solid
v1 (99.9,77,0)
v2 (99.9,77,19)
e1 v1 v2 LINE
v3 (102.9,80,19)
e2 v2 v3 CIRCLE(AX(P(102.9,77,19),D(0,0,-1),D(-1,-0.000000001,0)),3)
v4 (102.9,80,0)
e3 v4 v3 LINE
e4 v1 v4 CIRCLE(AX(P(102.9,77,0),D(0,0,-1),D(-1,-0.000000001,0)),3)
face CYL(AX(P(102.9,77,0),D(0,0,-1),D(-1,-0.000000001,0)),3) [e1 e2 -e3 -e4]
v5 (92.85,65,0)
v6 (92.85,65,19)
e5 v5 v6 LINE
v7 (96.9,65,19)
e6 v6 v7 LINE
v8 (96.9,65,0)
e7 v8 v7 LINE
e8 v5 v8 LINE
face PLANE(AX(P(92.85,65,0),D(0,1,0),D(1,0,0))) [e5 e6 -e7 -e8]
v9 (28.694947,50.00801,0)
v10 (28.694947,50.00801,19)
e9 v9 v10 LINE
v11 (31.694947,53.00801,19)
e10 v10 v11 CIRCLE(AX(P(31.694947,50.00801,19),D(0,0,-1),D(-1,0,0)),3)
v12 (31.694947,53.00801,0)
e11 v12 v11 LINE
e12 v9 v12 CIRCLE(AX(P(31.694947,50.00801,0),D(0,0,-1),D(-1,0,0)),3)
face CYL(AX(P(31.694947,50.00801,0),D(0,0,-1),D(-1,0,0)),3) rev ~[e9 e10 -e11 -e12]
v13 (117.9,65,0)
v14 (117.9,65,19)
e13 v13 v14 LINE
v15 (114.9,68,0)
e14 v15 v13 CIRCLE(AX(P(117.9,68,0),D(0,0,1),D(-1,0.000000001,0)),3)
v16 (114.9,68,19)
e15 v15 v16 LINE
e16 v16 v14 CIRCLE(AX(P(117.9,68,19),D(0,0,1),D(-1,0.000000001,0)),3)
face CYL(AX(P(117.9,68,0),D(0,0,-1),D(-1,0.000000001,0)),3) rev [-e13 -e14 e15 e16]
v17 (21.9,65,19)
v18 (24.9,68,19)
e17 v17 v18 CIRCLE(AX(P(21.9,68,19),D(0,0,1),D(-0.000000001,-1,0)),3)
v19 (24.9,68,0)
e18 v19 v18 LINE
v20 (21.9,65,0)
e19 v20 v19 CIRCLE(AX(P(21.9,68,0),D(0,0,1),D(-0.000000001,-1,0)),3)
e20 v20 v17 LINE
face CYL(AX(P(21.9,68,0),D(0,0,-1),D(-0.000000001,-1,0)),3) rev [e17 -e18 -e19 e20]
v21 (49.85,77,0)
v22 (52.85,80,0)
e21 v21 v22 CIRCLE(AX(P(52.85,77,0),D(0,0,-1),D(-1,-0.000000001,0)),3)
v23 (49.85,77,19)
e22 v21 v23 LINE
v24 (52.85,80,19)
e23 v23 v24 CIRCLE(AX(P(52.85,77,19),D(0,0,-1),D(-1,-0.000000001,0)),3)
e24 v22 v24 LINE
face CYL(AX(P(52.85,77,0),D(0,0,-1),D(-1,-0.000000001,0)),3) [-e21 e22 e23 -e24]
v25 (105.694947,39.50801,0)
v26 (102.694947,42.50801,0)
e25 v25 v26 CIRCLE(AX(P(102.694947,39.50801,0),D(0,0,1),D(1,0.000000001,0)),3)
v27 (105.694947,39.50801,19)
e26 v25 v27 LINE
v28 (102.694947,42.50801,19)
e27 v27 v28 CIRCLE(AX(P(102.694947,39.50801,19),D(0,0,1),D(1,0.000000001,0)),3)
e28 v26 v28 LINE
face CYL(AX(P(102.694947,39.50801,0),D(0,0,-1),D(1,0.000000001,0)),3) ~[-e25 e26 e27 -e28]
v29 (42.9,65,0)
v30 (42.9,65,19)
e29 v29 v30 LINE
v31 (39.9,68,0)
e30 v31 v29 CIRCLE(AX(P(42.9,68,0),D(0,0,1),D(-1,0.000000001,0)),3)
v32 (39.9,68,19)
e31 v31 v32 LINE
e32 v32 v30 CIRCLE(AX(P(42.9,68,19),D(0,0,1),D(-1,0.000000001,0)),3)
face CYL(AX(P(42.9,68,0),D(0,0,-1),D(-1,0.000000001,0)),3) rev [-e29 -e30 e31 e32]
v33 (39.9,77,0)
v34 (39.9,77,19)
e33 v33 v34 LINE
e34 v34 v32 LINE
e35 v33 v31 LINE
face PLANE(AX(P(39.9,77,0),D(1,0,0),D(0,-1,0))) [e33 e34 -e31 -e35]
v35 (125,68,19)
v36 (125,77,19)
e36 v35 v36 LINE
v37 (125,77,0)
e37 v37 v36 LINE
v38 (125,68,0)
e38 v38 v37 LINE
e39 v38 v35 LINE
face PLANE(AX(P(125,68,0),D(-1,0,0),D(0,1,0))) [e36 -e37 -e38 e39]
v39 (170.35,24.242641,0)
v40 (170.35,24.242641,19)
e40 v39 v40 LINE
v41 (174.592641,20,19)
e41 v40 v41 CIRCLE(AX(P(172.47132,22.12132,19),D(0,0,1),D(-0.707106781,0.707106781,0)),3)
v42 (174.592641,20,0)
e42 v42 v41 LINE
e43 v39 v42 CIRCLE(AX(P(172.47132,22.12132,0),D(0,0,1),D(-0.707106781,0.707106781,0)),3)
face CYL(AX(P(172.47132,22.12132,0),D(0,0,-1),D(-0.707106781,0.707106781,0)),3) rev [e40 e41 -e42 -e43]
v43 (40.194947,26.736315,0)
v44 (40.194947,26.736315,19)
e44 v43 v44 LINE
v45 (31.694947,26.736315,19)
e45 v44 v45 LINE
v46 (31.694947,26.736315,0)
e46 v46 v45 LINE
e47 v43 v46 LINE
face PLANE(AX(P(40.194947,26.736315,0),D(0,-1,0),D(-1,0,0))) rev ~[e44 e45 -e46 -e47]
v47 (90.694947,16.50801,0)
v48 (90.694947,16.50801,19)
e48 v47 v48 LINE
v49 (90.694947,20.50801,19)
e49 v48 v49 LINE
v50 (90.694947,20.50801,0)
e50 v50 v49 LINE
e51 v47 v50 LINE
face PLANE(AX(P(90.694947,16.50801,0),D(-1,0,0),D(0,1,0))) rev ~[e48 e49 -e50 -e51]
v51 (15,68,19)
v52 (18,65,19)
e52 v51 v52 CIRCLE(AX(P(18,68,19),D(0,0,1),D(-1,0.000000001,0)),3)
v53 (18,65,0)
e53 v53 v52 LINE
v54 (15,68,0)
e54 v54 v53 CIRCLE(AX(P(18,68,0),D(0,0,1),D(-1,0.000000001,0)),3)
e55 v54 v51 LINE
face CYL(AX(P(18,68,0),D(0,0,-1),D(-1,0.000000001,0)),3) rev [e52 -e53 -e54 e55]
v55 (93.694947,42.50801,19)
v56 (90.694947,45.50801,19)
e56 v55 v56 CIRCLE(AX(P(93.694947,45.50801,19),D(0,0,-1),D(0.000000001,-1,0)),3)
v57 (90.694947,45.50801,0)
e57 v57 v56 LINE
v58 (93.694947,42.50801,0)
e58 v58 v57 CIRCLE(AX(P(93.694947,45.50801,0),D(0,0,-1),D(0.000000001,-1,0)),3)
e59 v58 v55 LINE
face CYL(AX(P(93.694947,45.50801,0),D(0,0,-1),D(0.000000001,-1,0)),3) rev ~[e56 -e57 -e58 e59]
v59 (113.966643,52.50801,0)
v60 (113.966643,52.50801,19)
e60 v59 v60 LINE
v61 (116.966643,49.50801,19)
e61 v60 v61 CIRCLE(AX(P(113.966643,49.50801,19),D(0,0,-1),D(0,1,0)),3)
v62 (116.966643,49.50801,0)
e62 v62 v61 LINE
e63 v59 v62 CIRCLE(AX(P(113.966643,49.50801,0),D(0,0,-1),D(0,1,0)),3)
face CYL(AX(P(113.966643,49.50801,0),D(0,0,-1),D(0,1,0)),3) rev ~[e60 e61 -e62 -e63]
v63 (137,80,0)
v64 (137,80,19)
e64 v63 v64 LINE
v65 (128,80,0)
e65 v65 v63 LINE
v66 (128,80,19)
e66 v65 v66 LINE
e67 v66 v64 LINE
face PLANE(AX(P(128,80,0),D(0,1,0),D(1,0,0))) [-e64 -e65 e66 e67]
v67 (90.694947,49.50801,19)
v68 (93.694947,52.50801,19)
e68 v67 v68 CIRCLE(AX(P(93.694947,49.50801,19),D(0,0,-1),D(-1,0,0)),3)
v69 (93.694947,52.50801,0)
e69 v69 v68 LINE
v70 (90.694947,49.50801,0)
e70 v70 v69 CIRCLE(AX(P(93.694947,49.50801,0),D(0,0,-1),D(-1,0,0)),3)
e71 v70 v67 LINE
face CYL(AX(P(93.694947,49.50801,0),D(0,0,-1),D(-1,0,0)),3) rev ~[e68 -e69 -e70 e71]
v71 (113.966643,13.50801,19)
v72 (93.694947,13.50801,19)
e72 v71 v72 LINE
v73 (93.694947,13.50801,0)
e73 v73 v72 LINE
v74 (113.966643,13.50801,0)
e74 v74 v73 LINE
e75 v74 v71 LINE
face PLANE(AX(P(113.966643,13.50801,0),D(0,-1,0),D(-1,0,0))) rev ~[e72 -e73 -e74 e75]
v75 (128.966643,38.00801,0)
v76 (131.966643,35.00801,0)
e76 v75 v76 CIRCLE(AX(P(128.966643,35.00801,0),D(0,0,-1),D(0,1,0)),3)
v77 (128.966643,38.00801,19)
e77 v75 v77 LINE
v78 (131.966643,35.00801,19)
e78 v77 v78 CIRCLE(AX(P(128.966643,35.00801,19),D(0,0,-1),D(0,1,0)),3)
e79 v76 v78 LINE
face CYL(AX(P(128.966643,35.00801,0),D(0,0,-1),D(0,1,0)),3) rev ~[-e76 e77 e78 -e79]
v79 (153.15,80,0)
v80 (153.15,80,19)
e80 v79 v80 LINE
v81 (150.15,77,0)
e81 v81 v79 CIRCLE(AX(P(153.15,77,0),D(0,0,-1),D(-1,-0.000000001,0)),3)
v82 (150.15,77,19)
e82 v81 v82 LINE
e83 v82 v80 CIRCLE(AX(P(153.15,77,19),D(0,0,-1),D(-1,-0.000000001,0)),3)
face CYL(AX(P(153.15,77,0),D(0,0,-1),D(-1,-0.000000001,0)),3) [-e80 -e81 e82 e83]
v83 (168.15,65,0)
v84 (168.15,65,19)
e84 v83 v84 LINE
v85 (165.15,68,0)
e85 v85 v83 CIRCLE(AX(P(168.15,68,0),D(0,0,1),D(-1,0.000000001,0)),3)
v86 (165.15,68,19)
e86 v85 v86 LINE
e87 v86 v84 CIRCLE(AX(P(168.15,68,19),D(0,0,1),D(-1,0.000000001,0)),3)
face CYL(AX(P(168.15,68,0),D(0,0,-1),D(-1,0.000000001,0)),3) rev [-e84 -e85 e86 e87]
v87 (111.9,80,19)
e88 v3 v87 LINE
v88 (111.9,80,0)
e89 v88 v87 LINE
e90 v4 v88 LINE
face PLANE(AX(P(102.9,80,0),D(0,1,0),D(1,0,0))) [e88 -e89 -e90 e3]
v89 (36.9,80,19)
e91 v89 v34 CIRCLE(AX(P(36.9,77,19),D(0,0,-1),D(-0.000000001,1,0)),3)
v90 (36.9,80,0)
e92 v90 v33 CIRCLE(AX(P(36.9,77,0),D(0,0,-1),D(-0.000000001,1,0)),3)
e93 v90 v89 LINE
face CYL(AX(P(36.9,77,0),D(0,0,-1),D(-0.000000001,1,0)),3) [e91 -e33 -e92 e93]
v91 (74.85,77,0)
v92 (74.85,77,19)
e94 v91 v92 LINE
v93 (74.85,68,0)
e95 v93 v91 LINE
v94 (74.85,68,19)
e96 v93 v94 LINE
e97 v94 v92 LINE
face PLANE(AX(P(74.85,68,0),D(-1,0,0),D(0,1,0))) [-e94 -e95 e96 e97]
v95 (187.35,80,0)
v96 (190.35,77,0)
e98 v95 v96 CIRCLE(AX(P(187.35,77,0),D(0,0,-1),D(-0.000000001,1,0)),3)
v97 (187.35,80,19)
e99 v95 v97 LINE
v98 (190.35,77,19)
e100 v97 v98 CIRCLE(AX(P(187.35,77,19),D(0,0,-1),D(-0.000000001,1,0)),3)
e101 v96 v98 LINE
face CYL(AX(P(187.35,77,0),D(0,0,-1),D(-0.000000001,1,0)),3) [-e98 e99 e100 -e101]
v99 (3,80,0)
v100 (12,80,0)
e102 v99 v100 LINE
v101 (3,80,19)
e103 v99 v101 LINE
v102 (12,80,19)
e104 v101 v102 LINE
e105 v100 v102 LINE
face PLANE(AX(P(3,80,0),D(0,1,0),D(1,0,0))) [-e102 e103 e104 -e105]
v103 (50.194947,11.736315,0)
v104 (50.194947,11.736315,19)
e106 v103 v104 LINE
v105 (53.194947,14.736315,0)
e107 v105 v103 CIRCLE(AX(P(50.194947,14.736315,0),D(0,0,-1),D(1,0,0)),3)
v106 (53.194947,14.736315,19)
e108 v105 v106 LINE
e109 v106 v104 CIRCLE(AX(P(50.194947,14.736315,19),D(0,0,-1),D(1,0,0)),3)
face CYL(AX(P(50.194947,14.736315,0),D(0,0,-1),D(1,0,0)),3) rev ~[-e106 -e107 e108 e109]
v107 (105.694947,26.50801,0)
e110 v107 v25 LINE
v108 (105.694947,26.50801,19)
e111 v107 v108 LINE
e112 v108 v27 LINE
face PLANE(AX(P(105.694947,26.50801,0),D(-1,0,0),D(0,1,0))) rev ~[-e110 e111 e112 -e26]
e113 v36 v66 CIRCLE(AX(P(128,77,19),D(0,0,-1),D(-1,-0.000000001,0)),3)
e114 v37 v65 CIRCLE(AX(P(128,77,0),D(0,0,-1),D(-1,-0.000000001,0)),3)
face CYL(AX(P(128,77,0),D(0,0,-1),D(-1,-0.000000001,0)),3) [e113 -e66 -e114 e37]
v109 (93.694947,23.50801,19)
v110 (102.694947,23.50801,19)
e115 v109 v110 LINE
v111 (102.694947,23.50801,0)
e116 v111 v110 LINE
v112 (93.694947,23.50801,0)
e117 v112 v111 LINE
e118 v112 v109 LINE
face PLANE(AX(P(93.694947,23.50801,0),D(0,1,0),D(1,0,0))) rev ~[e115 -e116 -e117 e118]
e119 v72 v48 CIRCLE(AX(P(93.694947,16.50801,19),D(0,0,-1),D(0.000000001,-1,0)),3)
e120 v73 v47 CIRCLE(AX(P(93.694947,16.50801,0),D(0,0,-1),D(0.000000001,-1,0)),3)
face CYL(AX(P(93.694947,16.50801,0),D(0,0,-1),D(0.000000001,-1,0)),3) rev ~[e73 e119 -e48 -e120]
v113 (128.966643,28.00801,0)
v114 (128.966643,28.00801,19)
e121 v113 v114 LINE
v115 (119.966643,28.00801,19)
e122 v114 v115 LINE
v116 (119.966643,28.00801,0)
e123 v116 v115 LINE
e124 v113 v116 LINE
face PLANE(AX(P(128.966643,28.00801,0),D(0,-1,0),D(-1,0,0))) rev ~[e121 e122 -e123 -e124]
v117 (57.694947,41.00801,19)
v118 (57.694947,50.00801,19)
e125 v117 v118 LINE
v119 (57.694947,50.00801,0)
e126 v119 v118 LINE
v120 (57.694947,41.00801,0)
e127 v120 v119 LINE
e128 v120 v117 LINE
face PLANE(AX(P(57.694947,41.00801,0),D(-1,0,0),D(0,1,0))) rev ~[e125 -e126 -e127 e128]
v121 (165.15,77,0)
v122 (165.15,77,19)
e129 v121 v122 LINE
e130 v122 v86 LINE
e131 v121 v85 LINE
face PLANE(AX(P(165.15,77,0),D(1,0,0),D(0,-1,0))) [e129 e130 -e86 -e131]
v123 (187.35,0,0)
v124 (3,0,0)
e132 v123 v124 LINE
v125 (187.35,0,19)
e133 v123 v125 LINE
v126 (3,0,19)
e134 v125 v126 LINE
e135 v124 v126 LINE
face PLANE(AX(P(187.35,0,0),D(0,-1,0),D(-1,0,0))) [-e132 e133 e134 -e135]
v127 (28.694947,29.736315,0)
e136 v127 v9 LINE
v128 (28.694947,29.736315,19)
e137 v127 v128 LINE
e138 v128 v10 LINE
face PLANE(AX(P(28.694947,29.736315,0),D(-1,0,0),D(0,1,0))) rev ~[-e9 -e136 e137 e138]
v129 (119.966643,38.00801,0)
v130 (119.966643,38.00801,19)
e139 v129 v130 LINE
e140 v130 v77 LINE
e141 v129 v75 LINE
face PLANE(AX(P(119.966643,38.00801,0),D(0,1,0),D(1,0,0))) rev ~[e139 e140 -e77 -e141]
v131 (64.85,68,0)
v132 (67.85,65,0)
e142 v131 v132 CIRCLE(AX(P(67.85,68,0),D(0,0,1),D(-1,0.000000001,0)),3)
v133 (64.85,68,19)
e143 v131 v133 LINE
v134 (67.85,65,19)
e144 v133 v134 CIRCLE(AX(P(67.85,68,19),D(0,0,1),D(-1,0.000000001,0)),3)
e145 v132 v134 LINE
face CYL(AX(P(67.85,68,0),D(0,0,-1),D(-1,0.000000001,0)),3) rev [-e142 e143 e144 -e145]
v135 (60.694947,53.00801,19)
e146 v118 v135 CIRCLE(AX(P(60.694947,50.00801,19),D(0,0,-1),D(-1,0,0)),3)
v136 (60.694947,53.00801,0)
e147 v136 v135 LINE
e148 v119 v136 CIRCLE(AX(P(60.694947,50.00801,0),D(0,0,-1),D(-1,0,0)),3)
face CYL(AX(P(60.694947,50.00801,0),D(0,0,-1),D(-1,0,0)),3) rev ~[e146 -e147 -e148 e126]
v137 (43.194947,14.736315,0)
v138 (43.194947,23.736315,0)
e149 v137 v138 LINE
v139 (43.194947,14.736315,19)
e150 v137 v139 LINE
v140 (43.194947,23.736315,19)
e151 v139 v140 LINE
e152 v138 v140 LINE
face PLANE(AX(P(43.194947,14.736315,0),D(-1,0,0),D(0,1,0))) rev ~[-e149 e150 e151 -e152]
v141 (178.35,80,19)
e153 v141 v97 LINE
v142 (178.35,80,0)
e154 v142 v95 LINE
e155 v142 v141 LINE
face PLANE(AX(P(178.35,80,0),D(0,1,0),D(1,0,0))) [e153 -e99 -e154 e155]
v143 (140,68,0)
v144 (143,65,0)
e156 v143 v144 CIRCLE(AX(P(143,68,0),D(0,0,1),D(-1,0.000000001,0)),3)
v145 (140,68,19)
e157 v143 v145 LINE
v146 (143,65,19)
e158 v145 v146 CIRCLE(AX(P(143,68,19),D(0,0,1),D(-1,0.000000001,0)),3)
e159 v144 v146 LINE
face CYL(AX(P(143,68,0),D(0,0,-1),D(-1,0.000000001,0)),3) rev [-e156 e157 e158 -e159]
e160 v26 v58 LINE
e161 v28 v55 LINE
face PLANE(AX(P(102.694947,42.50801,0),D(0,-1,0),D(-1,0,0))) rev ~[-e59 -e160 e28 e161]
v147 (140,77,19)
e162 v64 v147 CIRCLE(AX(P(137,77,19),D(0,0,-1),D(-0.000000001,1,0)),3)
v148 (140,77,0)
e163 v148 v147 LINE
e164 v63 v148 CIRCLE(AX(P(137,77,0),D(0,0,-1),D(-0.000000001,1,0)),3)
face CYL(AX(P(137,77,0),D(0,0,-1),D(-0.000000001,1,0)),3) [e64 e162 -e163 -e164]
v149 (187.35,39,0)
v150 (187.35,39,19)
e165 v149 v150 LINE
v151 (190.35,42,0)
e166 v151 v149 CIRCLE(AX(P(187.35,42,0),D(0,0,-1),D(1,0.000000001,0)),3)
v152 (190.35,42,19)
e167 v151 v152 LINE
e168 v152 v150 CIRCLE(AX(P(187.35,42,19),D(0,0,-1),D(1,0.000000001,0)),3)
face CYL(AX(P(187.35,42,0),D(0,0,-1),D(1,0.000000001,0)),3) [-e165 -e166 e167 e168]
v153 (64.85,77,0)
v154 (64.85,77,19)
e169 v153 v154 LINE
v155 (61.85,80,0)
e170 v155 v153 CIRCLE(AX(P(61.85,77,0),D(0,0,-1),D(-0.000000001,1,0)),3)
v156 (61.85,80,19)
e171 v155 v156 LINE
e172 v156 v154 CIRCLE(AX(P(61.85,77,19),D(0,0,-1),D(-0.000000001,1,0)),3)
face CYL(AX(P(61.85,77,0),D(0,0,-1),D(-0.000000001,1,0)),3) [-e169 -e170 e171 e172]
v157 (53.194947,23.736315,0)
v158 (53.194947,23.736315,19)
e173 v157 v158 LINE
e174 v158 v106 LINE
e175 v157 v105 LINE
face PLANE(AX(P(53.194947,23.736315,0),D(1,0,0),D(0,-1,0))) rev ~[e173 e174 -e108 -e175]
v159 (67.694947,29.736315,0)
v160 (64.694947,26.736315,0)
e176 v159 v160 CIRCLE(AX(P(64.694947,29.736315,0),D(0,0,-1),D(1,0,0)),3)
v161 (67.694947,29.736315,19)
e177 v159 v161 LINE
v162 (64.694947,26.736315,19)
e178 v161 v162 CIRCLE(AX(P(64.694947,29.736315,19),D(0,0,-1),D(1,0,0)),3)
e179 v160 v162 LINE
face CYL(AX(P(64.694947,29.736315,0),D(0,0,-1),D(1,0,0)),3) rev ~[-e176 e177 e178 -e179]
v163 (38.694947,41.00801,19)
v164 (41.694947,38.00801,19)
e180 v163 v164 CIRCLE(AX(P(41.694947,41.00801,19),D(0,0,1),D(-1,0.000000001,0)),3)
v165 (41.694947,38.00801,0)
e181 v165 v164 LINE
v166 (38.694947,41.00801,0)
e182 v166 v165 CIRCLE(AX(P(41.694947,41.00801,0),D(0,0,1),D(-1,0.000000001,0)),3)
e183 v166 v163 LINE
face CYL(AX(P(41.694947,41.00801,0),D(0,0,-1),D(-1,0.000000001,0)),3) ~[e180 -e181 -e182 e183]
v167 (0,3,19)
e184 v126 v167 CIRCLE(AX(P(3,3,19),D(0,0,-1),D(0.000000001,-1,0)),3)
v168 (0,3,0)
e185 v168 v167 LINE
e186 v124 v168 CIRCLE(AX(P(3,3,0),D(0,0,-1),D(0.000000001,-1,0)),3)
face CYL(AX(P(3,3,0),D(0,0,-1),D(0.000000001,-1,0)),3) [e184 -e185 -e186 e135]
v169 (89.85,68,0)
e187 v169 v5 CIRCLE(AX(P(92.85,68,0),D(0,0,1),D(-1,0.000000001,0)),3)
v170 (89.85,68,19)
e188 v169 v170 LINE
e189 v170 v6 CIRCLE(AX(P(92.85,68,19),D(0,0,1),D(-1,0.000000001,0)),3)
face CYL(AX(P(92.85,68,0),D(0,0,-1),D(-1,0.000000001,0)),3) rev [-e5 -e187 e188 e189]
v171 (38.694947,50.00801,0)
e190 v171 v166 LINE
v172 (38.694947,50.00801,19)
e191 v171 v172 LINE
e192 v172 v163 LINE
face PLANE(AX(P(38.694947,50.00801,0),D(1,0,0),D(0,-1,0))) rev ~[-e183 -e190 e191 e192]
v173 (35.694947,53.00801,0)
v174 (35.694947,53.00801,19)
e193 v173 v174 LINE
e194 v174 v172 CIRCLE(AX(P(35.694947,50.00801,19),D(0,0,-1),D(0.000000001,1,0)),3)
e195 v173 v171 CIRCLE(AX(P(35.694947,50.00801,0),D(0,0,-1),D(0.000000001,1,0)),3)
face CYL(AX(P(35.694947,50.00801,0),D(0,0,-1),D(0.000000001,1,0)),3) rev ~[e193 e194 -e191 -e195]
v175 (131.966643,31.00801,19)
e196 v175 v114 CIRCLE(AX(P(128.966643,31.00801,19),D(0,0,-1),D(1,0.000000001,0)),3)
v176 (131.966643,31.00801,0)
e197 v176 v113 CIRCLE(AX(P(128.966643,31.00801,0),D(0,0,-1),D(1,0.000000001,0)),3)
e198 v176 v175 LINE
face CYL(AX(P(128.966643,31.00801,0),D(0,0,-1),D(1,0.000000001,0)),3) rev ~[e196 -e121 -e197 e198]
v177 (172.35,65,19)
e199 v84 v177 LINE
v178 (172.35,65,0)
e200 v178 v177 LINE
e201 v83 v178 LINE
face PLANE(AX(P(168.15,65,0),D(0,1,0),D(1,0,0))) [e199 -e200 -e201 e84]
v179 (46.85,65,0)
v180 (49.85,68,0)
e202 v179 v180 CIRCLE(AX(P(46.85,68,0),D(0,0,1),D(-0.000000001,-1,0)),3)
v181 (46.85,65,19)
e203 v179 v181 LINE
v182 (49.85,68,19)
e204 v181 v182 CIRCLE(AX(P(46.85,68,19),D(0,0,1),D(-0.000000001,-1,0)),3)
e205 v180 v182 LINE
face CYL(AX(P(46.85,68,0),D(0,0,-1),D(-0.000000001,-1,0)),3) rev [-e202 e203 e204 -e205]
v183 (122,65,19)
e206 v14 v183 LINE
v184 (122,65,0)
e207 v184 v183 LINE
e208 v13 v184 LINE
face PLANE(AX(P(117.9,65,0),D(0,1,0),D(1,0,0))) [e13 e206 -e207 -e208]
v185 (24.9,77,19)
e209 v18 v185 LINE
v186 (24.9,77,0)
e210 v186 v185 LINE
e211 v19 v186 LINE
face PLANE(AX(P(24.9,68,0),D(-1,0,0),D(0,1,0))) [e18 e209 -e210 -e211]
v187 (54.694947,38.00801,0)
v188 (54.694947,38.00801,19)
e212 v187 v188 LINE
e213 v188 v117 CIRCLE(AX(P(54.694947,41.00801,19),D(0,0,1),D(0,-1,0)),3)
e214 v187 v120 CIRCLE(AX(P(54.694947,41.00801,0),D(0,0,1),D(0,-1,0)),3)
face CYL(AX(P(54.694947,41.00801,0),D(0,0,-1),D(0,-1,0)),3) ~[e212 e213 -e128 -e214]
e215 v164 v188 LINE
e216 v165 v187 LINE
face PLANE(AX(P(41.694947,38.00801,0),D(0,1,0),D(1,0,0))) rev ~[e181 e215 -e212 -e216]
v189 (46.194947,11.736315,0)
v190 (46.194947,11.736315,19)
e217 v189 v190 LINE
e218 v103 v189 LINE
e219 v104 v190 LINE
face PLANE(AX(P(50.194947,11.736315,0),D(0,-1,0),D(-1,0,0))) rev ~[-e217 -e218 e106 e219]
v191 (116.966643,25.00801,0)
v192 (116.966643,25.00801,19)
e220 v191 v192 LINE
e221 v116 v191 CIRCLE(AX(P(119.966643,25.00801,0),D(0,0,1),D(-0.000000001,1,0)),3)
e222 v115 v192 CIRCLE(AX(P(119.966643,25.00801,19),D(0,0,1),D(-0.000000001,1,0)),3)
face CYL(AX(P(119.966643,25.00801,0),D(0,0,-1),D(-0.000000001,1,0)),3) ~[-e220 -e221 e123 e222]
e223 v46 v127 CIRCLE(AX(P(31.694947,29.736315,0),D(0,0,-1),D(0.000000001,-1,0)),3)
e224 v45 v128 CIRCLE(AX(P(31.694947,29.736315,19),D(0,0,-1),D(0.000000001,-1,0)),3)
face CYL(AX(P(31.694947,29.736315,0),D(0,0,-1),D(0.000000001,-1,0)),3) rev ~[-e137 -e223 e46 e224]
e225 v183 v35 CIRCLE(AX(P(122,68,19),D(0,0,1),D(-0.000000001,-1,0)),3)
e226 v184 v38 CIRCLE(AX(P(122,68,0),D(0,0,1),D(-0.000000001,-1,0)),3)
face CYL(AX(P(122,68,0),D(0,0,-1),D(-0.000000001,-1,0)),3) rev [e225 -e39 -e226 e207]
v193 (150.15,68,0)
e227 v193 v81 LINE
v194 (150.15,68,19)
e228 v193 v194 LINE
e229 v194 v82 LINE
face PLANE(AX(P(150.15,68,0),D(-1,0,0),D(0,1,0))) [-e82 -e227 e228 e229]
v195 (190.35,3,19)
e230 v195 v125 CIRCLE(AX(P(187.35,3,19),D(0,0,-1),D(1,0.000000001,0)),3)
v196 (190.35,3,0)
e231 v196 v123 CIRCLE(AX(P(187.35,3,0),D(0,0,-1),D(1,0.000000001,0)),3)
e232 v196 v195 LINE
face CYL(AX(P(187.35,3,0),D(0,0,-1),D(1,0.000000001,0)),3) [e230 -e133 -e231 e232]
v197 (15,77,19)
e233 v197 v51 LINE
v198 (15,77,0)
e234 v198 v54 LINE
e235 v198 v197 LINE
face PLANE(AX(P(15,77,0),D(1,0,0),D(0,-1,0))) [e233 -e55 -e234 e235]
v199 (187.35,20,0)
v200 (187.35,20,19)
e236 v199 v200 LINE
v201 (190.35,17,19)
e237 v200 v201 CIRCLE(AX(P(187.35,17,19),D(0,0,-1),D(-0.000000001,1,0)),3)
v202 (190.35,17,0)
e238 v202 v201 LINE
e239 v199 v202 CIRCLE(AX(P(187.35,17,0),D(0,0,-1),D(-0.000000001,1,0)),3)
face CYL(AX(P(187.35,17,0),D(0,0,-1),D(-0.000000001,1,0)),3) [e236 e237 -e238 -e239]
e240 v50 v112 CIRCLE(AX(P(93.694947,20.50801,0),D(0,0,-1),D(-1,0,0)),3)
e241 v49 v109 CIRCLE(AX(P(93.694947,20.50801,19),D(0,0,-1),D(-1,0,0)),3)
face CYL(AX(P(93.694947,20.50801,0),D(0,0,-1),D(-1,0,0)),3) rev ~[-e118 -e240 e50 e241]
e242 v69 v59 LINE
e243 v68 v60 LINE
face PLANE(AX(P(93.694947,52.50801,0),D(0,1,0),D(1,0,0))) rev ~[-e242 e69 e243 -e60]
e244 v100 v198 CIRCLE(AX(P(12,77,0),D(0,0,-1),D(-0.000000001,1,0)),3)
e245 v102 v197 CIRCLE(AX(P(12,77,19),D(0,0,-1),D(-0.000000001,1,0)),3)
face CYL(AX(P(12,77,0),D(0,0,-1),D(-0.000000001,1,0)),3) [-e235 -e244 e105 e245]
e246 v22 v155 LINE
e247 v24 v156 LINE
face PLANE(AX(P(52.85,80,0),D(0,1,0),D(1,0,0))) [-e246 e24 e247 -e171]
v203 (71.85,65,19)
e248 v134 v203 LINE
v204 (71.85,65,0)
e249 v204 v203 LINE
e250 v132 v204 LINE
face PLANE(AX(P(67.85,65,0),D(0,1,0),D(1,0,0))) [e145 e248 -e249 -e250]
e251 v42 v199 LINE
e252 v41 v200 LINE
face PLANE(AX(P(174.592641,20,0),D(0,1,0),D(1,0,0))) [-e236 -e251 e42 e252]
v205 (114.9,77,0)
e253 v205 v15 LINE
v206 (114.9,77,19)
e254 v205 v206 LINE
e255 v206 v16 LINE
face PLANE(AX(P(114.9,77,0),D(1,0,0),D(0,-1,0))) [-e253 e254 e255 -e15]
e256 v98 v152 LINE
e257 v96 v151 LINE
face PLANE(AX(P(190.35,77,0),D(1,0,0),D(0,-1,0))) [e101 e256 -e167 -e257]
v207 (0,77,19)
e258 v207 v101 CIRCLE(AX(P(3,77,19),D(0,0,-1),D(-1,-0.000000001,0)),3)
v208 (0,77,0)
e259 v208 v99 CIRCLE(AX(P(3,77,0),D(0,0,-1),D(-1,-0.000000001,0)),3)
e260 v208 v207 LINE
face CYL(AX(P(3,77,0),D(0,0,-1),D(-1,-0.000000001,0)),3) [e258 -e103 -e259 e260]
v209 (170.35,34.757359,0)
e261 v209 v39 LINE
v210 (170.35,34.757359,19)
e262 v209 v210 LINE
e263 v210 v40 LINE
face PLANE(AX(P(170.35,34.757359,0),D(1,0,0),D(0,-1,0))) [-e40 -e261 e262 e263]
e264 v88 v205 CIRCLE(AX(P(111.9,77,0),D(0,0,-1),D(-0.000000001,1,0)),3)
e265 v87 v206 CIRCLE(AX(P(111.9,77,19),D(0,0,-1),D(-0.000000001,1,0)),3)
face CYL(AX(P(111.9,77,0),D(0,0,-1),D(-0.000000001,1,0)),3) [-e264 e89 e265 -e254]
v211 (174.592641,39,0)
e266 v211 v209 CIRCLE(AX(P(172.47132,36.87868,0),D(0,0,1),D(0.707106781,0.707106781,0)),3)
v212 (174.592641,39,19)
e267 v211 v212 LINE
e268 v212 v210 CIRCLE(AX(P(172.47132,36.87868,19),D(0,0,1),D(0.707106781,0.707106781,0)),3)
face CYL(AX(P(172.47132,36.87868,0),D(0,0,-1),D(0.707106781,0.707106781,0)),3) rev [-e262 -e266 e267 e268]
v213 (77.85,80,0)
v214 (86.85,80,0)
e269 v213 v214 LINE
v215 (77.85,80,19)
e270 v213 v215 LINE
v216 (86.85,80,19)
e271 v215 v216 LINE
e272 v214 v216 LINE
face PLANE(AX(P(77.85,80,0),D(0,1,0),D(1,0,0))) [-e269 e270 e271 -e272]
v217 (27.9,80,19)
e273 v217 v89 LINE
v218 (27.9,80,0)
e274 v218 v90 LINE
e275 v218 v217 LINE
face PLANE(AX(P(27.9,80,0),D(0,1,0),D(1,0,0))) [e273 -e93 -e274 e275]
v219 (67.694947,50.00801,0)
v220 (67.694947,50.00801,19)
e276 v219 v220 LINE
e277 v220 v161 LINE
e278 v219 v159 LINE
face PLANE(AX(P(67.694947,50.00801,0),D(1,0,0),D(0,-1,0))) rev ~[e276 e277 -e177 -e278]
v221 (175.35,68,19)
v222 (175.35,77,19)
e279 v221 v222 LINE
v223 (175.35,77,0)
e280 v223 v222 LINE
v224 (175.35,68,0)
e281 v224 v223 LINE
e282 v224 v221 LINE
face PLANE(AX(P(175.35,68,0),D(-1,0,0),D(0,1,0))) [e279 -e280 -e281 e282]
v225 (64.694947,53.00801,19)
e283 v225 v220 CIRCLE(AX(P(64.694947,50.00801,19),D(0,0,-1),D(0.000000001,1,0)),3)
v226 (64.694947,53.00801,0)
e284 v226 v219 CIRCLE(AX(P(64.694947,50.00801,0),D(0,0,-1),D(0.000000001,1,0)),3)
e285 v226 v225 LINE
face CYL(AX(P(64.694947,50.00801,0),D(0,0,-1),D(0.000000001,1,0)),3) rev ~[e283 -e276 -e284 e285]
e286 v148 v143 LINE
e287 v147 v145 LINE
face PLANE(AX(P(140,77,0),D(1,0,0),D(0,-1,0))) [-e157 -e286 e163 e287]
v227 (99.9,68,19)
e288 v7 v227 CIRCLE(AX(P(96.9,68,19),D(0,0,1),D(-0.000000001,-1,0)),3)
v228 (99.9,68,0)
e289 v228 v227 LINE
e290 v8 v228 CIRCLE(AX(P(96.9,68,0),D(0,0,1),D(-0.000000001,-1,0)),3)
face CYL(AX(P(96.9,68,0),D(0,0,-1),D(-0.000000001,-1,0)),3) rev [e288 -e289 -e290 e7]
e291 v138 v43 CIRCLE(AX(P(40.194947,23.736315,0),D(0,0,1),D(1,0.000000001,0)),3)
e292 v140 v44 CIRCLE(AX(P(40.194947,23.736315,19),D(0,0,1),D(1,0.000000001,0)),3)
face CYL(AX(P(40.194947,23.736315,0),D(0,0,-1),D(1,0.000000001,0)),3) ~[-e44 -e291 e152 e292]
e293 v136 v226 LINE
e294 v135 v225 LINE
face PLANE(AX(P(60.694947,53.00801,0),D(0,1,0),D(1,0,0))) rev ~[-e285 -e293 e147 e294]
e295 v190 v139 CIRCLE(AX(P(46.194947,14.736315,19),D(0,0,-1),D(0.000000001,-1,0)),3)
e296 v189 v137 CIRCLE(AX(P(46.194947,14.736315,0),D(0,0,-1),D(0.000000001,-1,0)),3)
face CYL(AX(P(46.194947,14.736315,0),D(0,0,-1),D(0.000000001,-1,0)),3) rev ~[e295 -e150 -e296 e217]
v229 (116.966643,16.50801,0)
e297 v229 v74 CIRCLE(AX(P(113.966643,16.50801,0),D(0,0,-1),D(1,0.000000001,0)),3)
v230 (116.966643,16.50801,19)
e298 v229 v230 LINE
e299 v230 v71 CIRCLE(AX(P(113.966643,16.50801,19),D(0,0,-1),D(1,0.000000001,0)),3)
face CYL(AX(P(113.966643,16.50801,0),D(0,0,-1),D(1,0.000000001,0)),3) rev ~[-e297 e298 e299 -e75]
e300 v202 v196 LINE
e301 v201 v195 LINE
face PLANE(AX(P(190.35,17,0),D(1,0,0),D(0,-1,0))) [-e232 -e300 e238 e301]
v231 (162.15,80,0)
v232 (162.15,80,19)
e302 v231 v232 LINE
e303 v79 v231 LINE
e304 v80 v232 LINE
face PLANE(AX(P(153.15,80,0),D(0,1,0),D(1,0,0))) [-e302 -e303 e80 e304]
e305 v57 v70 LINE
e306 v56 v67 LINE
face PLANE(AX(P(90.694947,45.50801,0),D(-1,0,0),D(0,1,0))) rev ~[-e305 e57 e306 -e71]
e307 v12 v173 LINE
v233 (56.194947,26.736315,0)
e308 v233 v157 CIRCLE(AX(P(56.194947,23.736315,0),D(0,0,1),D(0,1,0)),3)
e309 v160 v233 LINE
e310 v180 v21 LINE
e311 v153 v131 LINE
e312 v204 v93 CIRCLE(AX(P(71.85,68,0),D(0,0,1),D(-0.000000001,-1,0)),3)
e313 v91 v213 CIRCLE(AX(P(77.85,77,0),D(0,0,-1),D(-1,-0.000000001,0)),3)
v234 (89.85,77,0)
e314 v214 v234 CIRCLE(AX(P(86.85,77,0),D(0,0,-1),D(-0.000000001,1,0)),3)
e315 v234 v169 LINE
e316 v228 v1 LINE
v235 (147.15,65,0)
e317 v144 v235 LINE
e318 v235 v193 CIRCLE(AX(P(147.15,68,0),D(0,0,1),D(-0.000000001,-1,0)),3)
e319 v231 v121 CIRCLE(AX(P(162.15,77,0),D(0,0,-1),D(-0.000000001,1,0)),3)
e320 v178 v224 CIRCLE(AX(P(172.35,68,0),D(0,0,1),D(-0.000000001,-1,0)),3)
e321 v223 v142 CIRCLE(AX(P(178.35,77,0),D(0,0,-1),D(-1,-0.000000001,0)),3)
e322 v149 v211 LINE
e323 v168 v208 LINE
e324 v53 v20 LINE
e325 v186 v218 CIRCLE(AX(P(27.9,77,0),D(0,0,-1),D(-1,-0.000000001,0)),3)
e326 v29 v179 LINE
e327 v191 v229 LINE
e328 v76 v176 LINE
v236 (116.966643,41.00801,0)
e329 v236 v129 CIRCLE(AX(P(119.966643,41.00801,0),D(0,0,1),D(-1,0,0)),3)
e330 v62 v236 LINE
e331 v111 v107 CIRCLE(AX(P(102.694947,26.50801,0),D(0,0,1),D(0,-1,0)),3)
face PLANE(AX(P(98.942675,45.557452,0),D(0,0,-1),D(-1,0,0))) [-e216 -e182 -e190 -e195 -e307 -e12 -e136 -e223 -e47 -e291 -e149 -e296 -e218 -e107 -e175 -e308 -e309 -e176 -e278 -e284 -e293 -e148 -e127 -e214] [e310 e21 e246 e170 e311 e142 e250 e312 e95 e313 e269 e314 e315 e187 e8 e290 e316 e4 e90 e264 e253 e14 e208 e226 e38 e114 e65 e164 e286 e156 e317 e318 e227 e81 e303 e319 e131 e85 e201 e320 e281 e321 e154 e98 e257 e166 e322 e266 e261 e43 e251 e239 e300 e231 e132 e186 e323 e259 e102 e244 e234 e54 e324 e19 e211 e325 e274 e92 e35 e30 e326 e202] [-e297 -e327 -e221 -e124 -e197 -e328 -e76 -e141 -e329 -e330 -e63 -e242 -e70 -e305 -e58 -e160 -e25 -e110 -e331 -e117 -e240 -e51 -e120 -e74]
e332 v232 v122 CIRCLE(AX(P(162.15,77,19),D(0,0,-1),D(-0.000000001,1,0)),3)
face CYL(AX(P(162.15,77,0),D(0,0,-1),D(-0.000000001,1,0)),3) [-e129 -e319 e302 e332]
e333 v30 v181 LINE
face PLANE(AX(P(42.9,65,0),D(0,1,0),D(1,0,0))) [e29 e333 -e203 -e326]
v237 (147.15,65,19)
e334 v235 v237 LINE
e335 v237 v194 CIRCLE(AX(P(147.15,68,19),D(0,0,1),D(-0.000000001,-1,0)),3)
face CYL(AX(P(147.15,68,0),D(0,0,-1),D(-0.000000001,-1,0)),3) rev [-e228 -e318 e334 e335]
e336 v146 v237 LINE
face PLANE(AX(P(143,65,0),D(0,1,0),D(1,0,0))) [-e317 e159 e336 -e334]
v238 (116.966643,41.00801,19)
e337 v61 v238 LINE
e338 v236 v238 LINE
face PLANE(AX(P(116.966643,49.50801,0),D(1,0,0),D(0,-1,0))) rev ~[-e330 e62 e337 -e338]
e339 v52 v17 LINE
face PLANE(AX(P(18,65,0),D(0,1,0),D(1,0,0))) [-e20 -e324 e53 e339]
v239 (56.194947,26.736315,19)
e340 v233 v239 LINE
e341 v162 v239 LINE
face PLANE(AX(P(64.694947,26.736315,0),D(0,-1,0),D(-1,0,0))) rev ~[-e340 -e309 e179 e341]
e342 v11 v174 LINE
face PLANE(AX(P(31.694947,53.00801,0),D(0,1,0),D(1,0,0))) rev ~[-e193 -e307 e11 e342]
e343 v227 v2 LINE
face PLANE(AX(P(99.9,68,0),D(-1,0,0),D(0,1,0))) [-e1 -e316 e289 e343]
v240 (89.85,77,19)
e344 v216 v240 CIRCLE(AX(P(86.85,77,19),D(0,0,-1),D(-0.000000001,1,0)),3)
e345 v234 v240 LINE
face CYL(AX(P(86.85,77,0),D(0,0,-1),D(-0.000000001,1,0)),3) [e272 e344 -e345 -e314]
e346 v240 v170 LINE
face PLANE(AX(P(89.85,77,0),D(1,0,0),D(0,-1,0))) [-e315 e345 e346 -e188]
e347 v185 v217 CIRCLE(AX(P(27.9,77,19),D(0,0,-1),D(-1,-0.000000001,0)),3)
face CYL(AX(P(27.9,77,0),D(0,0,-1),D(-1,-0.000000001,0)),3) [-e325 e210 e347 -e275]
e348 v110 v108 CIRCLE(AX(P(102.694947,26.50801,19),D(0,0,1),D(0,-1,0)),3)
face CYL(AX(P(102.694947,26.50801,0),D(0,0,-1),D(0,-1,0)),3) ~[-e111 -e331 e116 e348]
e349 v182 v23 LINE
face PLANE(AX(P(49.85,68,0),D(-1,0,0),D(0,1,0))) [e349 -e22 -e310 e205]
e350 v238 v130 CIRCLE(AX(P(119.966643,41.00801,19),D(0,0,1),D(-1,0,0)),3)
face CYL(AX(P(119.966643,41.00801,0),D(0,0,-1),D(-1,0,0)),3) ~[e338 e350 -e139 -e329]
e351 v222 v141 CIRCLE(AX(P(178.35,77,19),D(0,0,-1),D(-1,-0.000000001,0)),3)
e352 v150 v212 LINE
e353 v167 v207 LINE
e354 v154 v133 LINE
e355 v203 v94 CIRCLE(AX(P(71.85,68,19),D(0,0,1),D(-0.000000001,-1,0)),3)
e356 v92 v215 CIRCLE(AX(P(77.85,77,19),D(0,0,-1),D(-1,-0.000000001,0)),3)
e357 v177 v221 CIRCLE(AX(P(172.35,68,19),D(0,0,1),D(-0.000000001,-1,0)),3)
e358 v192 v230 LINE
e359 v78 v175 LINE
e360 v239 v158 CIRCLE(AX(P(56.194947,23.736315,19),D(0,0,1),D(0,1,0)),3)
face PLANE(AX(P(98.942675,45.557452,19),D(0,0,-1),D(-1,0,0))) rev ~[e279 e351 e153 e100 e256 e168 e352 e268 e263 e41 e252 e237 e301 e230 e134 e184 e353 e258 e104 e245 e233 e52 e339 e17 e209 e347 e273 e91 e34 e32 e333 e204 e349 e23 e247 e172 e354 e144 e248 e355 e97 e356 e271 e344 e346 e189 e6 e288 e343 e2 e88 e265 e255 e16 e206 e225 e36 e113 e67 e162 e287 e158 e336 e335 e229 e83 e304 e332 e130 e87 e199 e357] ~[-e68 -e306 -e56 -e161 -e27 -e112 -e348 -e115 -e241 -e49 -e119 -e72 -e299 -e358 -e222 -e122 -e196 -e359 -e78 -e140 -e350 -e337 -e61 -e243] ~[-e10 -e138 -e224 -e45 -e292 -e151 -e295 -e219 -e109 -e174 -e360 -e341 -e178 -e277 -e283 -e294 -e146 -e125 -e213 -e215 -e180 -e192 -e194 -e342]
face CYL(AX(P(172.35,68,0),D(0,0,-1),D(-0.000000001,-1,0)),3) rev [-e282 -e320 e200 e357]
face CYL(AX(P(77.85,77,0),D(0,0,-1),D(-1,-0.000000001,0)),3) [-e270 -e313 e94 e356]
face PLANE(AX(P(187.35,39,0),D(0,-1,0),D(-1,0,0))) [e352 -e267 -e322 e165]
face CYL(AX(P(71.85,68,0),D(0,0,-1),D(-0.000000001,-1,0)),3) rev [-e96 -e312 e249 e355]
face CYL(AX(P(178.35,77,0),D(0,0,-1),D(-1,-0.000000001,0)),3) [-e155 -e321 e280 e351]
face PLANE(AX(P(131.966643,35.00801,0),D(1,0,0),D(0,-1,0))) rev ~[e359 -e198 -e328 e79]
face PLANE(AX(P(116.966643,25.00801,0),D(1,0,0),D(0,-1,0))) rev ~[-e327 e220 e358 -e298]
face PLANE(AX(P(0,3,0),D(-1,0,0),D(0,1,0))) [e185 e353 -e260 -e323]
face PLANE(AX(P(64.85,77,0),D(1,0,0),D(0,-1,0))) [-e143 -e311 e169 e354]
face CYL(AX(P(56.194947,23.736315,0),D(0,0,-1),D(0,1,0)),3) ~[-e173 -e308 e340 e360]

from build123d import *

# Parameters (mm, degrees)
BOSS_EXTRUDE1_DEPTH = 19


with BuildPart() as part:
    # Sketch1 → Boss-Extrude1 (new body)
    with BuildSketch(Plane.XY):
        with BuildLine():
            Line((18, 65), (21.9, 65))
            ThreePointArc((21.9, 65), (24.021320344, 65.878679656), (24.9, 68))
            Line((24.9, 68), (24.9, 77))
            ThreePointArc((24.9, 77), (25.778679656, 79.121320344), (27.9, 80))
            Line((27.9, 80), (36.9, 80))
            ThreePointArc((36.9, 80), (39.021320344, 79.121320344), (39.9, 77))
            Line((39.9, 77), (39.9, 68))
            ThreePointArc((39.9, 68), (40.778679656, 65.878679656), (42.9, 65))
            Line((42.9, 65), (46.85, 65))
            ThreePointArc((46.85, 65), (48.971320344, 65.878679656), (49.85, 68))
            Line((49.85, 68), (49.85, 77))
            ThreePointArc((49.85, 77), (50.728679656, 79.121320344), (52.85, 80))
            Line((52.85, 80), (61.85, 80))
            ThreePointArc((61.85, 80), (63.971320344, 79.121320344), (64.85, 77))
            Line((64.85, 77), (64.85, 68))
            ThreePointArc((64.85, 68), (65.728679656, 65.878679656), (67.85, 65))
            Line((67.85, 65), (71.85, 65))
            ThreePointArc((71.85, 65), (73.971320344, 65.878679656), (74.85, 68))
            Line((74.85, 68), (74.85, 77))
            ThreePointArc((74.85, 77), (75.728679656, 79.121320344), (77.85, 80))
            Line((77.85, 80), (86.85, 80))
            ThreePointArc((86.85, 80), (88.971320344, 79.121320344), (89.85, 77))
            Line((89.85, 77), (89.85, 68))
            ThreePointArc((89.85, 68), (90.728679656, 65.878679656), (92.85, 65))
            Line((92.85, 65), (96.9, 65))
            ThreePointArc((96.9, 65), (99.021320344, 65.878679656), (99.9, 68))
            Line((99.9, 68), (99.9, 77))
            ThreePointArc((99.9, 77), (100.778679656, 79.121320344), (102.9, 80))
            Line((102.9, 80), (111.9, 80))
            ThreePointArc((111.9, 80), (114.021320344, 79.121320344), (114.9, 77))
            Line((114.9, 77), (114.9, 68))
            ThreePointArc((114.9, 68), (115.778679656, 65.878679656), (117.9, 65))
            Line((117.9, 65), (122, 65))
            ThreePointArc((122, 65), (124.121320344, 65.878679656), (125, 68))
            Line((125, 68), (125, 77))
            ThreePointArc((125, 77), (125.878679656, 79.121320344), (128, 80))
            Line((128, 80), (137, 80))
            ThreePointArc((137, 80), (139.121320344, 79.121320344), (140, 77))
            Line((140, 77), (140, 68))
            ThreePointArc((140, 68), (140.878679656, 65.878679656), (143, 65))
            Line((143, 65), (147.15, 65))
            ThreePointArc((147.15, 65), (149.271320344, 65.878679656), (150.15, 68))
            Line((150.15, 68), (150.15, 77))
            ThreePointArc((150.15, 77), (151.028679656, 79.121320344), (153.15, 80))
            Line((153.15, 80), (162.15, 80))
            ThreePointArc((162.15, 80), (164.271320344, 79.121320344), (165.15, 77))
            Line((165.15, 77), (165.15, 68))
            ThreePointArc((165.15, 68), (166.028679656, 65.878679656), (168.15, 65))
            Line((168.15, 65), (172.35, 65))
            ThreePointArc((172.35, 65), (174.471320344, 65.878679656), (175.35, 68))
            Line((175.35, 68), (175.35, 77))
            ThreePointArc((175.35, 77), (176.228679656, 79.121320344), (178.35, 80))
            Line((178.35, 80), (187.35, 80))
            ThreePointArc((187.35, 80), (189.471320344, 79.121320344), (190.35, 77))
            Line((190.35, 77), (190.35, 42))
            ThreePointArc((190.35, 42), (189.471320344, 39.878679656), (187.35, 39))
            Line((187.35, 39), (174.592640687, 39))
            ThreePointArc((174.592640687, 39), (170.35, 39), (170.35, 34.757359313))
            Line((170.35, 34.757359313), (170.35, 24.242640687))
            ThreePointArc((170.35, 24.242640687), (170.35, 20), (174.592640687, 20))
            Line((174.592640687, 20), (187.35, 20))
            ThreePointArc((187.35, 20), (189.471320344, 19.121320344), (190.35, 17))
            Line((190.35, 17), (190.35, 3))
            ThreePointArc((190.35, 3), (189.471320344, 0.878679656), (187.35, 0))
            Line((187.35, 0), (3, 0))
            ThreePointArc((3, 0), (0.878679656, 0.878679656), (0, 3))
            Line((0, 3), (0, 77))
            ThreePointArc((0, 77), (0.878679656, 79.121320344), (3, 80))
            Line((3, 80), (12, 80))
            ThreePointArc((12, 80), (14.121320344, 79.121320344), (15, 77))
            Line((15, 77), (15, 68))
            ThreePointArc((15, 68), (15.878679656, 65.878679656), (18, 65))
        make_face()
        with BuildLine():
            Line((31.694947257, 53.008010391), (35.694947257, 53.008010391))
            ThreePointArc((35.694947257, 53.008010391), (37.8162676, 52.129330734), (38.694947257, 50.008010391))
            Line((38.694947257, 50.008010391), (38.694947257, 41.008010391))
            ThreePointArc((38.694947257, 41.008010391), (39.573626913, 38.886690047), (41.694947257, 38.008010391))
            Line((41.694947257, 38.008010391), (54.694947257, 38.008010391))
            ThreePointArc((54.694947257, 38.008010391), (56.8162676, 38.886690047), (57.694947257, 41.008010391))
            Line((57.694947257, 41.008010391), (57.694947257, 50.008010391))
            ThreePointArc((57.694947257, 50.008010391), (58.573626913, 52.129330734), (60.694947257, 53.008010391))
            Line((60.694947257, 53.008010391), (64.694947257, 53.008010391))
            ThreePointArc((64.694947257, 53.008010391), (66.8162676, 52.129330734), (67.694947257, 50.008010391))
            Line((67.694947257, 50.008010391), (67.694947257, 41.008010391))
            Line((67.694947257, 41.008010391), (67.694947257, 29.736314532))
            ThreePointArc((67.694947257, 29.736314532), (66.8162676, 27.614994188), (64.694947257, 26.736314532))
            Line((64.694947257, 26.736314532), (56.194947257, 26.736314532))
            ThreePointArc((56.194947257, 26.736314532), (54.073626913, 25.857634875), (53.194947257, 23.736314532))
            Line((53.194947257, 23.736314532), (53.194947257, 14.736314532))
            ThreePointArc((53.194947257, 14.736314532), (52.3162676, 12.614994188), (50.194947257, 11.736314532))
            Line((50.194947257, 11.736314532), (46.194947257, 11.736314532))
            ThreePointArc((46.194947257, 11.736314532), (44.073626913, 12.614994188), (43.194947257, 14.736314532))
            Line((43.194947257, 14.736314532), (43.194947257, 23.736314532))
            ThreePointArc((43.194947257, 23.736314532), (42.3162676, 25.857634875), (40.194947257, 26.736314532))
            Line((40.194947257, 26.736314532), (31.694947257, 26.736314532))
            ThreePointArc((31.694947257, 26.736314532), (29.573626913, 27.614994188), (28.694947257, 29.736314532))
            Line((28.694947257, 29.736314532), (28.694947257, 41.008010391))
            Line((28.694947257, 41.008010391), (28.694947257, 50.008010391))
            ThreePointArc((28.694947257, 50.008010391), (29.573626913, 52.129330734), (31.694947257, 53.008010391))
        make_face(mode=Mode.SUBTRACT)
        with BuildLine():
            Line((90.694947257, 16.508010391), (90.694947257, 20.508010391))
            ThreePointArc((90.694947257, 20.508010391), (91.573626913, 22.629330734), (93.694947257, 23.508010391))
            Line((93.694947257, 23.508010391), (102.694947257, 23.508010391))
            ThreePointArc((102.694947257, 23.508010391), (104.8162676, 24.386690047), (105.694947257, 26.508010391))
            Line((105.694947257, 26.508010391), (105.694947257, 39.508010391))
            ThreePointArc((105.694947257, 39.508010391), (104.8162676, 41.629330734), (102.694947257, 42.508010391))
            Line((102.694947257, 42.508010391), (93.694947257, 42.508010391))
            ThreePointArc((93.694947257, 42.508010391), (91.573626913, 43.386690047), (90.694947257, 45.508010391))
            Line((90.694947257, 45.508010391), (90.694947257, 49.508010391))
            ThreePointArc((90.694947257, 49.508010391), (91.573626913, 51.629330734), (93.694947257, 52.508010391))
            Line((93.694947257, 52.508010391), (102.694947257, 52.508010391))
            Line((102.694947257, 52.508010391), (113.966643115, 52.508010391))
            ThreePointArc((113.966643115, 52.508010391), (116.087963459, 51.629330734), (116.966643115, 49.508010391))
            Line((116.966643115, 49.508010391), (116.966643115, 41.008010391))
            ThreePointArc((116.966643115, 41.008010391), (117.845322772, 38.886690047), (119.966643115, 38.008010391))
            Line((119.966643115, 38.008010391), (128.966643115, 38.008010391))
            ThreePointArc((128.966643115, 38.008010391), (131.087963459, 37.129330734), (131.966643115, 35.008010391))
            Line((131.966643115, 35.008010391), (131.966643115, 31.008010391))
            ThreePointArc((131.966643115, 31.008010391), (131.087963459, 28.886690047), (128.966643115, 28.008010391))
            Line((128.966643115, 28.008010391), (119.966643115, 28.008010391))
            ThreePointArc((119.966643115, 28.008010391), (117.845322772, 27.129330734), (116.966643115, 25.008010391))
            Line((116.966643115, 25.008010391), (116.966643115, 16.508010391))
            ThreePointArc((116.966643115, 16.508010391), (116.087963459, 14.386690047), (113.966643115, 13.508010391))
            Line((113.966643115, 13.508010391), (102.694947257, 13.508010391))
            Line((102.694947257, 13.508010391), (93.694947257, 13.508010391))
            ThreePointArc((93.694947257, 13.508010391), (91.573626913, 14.386690047), (90.694947257, 16.508010391))
        make_face(mode=Mode.SUBTRACT)
    extrude(amount=BOSS_EXTRUDE1_DEPTH)


solid = part.part
